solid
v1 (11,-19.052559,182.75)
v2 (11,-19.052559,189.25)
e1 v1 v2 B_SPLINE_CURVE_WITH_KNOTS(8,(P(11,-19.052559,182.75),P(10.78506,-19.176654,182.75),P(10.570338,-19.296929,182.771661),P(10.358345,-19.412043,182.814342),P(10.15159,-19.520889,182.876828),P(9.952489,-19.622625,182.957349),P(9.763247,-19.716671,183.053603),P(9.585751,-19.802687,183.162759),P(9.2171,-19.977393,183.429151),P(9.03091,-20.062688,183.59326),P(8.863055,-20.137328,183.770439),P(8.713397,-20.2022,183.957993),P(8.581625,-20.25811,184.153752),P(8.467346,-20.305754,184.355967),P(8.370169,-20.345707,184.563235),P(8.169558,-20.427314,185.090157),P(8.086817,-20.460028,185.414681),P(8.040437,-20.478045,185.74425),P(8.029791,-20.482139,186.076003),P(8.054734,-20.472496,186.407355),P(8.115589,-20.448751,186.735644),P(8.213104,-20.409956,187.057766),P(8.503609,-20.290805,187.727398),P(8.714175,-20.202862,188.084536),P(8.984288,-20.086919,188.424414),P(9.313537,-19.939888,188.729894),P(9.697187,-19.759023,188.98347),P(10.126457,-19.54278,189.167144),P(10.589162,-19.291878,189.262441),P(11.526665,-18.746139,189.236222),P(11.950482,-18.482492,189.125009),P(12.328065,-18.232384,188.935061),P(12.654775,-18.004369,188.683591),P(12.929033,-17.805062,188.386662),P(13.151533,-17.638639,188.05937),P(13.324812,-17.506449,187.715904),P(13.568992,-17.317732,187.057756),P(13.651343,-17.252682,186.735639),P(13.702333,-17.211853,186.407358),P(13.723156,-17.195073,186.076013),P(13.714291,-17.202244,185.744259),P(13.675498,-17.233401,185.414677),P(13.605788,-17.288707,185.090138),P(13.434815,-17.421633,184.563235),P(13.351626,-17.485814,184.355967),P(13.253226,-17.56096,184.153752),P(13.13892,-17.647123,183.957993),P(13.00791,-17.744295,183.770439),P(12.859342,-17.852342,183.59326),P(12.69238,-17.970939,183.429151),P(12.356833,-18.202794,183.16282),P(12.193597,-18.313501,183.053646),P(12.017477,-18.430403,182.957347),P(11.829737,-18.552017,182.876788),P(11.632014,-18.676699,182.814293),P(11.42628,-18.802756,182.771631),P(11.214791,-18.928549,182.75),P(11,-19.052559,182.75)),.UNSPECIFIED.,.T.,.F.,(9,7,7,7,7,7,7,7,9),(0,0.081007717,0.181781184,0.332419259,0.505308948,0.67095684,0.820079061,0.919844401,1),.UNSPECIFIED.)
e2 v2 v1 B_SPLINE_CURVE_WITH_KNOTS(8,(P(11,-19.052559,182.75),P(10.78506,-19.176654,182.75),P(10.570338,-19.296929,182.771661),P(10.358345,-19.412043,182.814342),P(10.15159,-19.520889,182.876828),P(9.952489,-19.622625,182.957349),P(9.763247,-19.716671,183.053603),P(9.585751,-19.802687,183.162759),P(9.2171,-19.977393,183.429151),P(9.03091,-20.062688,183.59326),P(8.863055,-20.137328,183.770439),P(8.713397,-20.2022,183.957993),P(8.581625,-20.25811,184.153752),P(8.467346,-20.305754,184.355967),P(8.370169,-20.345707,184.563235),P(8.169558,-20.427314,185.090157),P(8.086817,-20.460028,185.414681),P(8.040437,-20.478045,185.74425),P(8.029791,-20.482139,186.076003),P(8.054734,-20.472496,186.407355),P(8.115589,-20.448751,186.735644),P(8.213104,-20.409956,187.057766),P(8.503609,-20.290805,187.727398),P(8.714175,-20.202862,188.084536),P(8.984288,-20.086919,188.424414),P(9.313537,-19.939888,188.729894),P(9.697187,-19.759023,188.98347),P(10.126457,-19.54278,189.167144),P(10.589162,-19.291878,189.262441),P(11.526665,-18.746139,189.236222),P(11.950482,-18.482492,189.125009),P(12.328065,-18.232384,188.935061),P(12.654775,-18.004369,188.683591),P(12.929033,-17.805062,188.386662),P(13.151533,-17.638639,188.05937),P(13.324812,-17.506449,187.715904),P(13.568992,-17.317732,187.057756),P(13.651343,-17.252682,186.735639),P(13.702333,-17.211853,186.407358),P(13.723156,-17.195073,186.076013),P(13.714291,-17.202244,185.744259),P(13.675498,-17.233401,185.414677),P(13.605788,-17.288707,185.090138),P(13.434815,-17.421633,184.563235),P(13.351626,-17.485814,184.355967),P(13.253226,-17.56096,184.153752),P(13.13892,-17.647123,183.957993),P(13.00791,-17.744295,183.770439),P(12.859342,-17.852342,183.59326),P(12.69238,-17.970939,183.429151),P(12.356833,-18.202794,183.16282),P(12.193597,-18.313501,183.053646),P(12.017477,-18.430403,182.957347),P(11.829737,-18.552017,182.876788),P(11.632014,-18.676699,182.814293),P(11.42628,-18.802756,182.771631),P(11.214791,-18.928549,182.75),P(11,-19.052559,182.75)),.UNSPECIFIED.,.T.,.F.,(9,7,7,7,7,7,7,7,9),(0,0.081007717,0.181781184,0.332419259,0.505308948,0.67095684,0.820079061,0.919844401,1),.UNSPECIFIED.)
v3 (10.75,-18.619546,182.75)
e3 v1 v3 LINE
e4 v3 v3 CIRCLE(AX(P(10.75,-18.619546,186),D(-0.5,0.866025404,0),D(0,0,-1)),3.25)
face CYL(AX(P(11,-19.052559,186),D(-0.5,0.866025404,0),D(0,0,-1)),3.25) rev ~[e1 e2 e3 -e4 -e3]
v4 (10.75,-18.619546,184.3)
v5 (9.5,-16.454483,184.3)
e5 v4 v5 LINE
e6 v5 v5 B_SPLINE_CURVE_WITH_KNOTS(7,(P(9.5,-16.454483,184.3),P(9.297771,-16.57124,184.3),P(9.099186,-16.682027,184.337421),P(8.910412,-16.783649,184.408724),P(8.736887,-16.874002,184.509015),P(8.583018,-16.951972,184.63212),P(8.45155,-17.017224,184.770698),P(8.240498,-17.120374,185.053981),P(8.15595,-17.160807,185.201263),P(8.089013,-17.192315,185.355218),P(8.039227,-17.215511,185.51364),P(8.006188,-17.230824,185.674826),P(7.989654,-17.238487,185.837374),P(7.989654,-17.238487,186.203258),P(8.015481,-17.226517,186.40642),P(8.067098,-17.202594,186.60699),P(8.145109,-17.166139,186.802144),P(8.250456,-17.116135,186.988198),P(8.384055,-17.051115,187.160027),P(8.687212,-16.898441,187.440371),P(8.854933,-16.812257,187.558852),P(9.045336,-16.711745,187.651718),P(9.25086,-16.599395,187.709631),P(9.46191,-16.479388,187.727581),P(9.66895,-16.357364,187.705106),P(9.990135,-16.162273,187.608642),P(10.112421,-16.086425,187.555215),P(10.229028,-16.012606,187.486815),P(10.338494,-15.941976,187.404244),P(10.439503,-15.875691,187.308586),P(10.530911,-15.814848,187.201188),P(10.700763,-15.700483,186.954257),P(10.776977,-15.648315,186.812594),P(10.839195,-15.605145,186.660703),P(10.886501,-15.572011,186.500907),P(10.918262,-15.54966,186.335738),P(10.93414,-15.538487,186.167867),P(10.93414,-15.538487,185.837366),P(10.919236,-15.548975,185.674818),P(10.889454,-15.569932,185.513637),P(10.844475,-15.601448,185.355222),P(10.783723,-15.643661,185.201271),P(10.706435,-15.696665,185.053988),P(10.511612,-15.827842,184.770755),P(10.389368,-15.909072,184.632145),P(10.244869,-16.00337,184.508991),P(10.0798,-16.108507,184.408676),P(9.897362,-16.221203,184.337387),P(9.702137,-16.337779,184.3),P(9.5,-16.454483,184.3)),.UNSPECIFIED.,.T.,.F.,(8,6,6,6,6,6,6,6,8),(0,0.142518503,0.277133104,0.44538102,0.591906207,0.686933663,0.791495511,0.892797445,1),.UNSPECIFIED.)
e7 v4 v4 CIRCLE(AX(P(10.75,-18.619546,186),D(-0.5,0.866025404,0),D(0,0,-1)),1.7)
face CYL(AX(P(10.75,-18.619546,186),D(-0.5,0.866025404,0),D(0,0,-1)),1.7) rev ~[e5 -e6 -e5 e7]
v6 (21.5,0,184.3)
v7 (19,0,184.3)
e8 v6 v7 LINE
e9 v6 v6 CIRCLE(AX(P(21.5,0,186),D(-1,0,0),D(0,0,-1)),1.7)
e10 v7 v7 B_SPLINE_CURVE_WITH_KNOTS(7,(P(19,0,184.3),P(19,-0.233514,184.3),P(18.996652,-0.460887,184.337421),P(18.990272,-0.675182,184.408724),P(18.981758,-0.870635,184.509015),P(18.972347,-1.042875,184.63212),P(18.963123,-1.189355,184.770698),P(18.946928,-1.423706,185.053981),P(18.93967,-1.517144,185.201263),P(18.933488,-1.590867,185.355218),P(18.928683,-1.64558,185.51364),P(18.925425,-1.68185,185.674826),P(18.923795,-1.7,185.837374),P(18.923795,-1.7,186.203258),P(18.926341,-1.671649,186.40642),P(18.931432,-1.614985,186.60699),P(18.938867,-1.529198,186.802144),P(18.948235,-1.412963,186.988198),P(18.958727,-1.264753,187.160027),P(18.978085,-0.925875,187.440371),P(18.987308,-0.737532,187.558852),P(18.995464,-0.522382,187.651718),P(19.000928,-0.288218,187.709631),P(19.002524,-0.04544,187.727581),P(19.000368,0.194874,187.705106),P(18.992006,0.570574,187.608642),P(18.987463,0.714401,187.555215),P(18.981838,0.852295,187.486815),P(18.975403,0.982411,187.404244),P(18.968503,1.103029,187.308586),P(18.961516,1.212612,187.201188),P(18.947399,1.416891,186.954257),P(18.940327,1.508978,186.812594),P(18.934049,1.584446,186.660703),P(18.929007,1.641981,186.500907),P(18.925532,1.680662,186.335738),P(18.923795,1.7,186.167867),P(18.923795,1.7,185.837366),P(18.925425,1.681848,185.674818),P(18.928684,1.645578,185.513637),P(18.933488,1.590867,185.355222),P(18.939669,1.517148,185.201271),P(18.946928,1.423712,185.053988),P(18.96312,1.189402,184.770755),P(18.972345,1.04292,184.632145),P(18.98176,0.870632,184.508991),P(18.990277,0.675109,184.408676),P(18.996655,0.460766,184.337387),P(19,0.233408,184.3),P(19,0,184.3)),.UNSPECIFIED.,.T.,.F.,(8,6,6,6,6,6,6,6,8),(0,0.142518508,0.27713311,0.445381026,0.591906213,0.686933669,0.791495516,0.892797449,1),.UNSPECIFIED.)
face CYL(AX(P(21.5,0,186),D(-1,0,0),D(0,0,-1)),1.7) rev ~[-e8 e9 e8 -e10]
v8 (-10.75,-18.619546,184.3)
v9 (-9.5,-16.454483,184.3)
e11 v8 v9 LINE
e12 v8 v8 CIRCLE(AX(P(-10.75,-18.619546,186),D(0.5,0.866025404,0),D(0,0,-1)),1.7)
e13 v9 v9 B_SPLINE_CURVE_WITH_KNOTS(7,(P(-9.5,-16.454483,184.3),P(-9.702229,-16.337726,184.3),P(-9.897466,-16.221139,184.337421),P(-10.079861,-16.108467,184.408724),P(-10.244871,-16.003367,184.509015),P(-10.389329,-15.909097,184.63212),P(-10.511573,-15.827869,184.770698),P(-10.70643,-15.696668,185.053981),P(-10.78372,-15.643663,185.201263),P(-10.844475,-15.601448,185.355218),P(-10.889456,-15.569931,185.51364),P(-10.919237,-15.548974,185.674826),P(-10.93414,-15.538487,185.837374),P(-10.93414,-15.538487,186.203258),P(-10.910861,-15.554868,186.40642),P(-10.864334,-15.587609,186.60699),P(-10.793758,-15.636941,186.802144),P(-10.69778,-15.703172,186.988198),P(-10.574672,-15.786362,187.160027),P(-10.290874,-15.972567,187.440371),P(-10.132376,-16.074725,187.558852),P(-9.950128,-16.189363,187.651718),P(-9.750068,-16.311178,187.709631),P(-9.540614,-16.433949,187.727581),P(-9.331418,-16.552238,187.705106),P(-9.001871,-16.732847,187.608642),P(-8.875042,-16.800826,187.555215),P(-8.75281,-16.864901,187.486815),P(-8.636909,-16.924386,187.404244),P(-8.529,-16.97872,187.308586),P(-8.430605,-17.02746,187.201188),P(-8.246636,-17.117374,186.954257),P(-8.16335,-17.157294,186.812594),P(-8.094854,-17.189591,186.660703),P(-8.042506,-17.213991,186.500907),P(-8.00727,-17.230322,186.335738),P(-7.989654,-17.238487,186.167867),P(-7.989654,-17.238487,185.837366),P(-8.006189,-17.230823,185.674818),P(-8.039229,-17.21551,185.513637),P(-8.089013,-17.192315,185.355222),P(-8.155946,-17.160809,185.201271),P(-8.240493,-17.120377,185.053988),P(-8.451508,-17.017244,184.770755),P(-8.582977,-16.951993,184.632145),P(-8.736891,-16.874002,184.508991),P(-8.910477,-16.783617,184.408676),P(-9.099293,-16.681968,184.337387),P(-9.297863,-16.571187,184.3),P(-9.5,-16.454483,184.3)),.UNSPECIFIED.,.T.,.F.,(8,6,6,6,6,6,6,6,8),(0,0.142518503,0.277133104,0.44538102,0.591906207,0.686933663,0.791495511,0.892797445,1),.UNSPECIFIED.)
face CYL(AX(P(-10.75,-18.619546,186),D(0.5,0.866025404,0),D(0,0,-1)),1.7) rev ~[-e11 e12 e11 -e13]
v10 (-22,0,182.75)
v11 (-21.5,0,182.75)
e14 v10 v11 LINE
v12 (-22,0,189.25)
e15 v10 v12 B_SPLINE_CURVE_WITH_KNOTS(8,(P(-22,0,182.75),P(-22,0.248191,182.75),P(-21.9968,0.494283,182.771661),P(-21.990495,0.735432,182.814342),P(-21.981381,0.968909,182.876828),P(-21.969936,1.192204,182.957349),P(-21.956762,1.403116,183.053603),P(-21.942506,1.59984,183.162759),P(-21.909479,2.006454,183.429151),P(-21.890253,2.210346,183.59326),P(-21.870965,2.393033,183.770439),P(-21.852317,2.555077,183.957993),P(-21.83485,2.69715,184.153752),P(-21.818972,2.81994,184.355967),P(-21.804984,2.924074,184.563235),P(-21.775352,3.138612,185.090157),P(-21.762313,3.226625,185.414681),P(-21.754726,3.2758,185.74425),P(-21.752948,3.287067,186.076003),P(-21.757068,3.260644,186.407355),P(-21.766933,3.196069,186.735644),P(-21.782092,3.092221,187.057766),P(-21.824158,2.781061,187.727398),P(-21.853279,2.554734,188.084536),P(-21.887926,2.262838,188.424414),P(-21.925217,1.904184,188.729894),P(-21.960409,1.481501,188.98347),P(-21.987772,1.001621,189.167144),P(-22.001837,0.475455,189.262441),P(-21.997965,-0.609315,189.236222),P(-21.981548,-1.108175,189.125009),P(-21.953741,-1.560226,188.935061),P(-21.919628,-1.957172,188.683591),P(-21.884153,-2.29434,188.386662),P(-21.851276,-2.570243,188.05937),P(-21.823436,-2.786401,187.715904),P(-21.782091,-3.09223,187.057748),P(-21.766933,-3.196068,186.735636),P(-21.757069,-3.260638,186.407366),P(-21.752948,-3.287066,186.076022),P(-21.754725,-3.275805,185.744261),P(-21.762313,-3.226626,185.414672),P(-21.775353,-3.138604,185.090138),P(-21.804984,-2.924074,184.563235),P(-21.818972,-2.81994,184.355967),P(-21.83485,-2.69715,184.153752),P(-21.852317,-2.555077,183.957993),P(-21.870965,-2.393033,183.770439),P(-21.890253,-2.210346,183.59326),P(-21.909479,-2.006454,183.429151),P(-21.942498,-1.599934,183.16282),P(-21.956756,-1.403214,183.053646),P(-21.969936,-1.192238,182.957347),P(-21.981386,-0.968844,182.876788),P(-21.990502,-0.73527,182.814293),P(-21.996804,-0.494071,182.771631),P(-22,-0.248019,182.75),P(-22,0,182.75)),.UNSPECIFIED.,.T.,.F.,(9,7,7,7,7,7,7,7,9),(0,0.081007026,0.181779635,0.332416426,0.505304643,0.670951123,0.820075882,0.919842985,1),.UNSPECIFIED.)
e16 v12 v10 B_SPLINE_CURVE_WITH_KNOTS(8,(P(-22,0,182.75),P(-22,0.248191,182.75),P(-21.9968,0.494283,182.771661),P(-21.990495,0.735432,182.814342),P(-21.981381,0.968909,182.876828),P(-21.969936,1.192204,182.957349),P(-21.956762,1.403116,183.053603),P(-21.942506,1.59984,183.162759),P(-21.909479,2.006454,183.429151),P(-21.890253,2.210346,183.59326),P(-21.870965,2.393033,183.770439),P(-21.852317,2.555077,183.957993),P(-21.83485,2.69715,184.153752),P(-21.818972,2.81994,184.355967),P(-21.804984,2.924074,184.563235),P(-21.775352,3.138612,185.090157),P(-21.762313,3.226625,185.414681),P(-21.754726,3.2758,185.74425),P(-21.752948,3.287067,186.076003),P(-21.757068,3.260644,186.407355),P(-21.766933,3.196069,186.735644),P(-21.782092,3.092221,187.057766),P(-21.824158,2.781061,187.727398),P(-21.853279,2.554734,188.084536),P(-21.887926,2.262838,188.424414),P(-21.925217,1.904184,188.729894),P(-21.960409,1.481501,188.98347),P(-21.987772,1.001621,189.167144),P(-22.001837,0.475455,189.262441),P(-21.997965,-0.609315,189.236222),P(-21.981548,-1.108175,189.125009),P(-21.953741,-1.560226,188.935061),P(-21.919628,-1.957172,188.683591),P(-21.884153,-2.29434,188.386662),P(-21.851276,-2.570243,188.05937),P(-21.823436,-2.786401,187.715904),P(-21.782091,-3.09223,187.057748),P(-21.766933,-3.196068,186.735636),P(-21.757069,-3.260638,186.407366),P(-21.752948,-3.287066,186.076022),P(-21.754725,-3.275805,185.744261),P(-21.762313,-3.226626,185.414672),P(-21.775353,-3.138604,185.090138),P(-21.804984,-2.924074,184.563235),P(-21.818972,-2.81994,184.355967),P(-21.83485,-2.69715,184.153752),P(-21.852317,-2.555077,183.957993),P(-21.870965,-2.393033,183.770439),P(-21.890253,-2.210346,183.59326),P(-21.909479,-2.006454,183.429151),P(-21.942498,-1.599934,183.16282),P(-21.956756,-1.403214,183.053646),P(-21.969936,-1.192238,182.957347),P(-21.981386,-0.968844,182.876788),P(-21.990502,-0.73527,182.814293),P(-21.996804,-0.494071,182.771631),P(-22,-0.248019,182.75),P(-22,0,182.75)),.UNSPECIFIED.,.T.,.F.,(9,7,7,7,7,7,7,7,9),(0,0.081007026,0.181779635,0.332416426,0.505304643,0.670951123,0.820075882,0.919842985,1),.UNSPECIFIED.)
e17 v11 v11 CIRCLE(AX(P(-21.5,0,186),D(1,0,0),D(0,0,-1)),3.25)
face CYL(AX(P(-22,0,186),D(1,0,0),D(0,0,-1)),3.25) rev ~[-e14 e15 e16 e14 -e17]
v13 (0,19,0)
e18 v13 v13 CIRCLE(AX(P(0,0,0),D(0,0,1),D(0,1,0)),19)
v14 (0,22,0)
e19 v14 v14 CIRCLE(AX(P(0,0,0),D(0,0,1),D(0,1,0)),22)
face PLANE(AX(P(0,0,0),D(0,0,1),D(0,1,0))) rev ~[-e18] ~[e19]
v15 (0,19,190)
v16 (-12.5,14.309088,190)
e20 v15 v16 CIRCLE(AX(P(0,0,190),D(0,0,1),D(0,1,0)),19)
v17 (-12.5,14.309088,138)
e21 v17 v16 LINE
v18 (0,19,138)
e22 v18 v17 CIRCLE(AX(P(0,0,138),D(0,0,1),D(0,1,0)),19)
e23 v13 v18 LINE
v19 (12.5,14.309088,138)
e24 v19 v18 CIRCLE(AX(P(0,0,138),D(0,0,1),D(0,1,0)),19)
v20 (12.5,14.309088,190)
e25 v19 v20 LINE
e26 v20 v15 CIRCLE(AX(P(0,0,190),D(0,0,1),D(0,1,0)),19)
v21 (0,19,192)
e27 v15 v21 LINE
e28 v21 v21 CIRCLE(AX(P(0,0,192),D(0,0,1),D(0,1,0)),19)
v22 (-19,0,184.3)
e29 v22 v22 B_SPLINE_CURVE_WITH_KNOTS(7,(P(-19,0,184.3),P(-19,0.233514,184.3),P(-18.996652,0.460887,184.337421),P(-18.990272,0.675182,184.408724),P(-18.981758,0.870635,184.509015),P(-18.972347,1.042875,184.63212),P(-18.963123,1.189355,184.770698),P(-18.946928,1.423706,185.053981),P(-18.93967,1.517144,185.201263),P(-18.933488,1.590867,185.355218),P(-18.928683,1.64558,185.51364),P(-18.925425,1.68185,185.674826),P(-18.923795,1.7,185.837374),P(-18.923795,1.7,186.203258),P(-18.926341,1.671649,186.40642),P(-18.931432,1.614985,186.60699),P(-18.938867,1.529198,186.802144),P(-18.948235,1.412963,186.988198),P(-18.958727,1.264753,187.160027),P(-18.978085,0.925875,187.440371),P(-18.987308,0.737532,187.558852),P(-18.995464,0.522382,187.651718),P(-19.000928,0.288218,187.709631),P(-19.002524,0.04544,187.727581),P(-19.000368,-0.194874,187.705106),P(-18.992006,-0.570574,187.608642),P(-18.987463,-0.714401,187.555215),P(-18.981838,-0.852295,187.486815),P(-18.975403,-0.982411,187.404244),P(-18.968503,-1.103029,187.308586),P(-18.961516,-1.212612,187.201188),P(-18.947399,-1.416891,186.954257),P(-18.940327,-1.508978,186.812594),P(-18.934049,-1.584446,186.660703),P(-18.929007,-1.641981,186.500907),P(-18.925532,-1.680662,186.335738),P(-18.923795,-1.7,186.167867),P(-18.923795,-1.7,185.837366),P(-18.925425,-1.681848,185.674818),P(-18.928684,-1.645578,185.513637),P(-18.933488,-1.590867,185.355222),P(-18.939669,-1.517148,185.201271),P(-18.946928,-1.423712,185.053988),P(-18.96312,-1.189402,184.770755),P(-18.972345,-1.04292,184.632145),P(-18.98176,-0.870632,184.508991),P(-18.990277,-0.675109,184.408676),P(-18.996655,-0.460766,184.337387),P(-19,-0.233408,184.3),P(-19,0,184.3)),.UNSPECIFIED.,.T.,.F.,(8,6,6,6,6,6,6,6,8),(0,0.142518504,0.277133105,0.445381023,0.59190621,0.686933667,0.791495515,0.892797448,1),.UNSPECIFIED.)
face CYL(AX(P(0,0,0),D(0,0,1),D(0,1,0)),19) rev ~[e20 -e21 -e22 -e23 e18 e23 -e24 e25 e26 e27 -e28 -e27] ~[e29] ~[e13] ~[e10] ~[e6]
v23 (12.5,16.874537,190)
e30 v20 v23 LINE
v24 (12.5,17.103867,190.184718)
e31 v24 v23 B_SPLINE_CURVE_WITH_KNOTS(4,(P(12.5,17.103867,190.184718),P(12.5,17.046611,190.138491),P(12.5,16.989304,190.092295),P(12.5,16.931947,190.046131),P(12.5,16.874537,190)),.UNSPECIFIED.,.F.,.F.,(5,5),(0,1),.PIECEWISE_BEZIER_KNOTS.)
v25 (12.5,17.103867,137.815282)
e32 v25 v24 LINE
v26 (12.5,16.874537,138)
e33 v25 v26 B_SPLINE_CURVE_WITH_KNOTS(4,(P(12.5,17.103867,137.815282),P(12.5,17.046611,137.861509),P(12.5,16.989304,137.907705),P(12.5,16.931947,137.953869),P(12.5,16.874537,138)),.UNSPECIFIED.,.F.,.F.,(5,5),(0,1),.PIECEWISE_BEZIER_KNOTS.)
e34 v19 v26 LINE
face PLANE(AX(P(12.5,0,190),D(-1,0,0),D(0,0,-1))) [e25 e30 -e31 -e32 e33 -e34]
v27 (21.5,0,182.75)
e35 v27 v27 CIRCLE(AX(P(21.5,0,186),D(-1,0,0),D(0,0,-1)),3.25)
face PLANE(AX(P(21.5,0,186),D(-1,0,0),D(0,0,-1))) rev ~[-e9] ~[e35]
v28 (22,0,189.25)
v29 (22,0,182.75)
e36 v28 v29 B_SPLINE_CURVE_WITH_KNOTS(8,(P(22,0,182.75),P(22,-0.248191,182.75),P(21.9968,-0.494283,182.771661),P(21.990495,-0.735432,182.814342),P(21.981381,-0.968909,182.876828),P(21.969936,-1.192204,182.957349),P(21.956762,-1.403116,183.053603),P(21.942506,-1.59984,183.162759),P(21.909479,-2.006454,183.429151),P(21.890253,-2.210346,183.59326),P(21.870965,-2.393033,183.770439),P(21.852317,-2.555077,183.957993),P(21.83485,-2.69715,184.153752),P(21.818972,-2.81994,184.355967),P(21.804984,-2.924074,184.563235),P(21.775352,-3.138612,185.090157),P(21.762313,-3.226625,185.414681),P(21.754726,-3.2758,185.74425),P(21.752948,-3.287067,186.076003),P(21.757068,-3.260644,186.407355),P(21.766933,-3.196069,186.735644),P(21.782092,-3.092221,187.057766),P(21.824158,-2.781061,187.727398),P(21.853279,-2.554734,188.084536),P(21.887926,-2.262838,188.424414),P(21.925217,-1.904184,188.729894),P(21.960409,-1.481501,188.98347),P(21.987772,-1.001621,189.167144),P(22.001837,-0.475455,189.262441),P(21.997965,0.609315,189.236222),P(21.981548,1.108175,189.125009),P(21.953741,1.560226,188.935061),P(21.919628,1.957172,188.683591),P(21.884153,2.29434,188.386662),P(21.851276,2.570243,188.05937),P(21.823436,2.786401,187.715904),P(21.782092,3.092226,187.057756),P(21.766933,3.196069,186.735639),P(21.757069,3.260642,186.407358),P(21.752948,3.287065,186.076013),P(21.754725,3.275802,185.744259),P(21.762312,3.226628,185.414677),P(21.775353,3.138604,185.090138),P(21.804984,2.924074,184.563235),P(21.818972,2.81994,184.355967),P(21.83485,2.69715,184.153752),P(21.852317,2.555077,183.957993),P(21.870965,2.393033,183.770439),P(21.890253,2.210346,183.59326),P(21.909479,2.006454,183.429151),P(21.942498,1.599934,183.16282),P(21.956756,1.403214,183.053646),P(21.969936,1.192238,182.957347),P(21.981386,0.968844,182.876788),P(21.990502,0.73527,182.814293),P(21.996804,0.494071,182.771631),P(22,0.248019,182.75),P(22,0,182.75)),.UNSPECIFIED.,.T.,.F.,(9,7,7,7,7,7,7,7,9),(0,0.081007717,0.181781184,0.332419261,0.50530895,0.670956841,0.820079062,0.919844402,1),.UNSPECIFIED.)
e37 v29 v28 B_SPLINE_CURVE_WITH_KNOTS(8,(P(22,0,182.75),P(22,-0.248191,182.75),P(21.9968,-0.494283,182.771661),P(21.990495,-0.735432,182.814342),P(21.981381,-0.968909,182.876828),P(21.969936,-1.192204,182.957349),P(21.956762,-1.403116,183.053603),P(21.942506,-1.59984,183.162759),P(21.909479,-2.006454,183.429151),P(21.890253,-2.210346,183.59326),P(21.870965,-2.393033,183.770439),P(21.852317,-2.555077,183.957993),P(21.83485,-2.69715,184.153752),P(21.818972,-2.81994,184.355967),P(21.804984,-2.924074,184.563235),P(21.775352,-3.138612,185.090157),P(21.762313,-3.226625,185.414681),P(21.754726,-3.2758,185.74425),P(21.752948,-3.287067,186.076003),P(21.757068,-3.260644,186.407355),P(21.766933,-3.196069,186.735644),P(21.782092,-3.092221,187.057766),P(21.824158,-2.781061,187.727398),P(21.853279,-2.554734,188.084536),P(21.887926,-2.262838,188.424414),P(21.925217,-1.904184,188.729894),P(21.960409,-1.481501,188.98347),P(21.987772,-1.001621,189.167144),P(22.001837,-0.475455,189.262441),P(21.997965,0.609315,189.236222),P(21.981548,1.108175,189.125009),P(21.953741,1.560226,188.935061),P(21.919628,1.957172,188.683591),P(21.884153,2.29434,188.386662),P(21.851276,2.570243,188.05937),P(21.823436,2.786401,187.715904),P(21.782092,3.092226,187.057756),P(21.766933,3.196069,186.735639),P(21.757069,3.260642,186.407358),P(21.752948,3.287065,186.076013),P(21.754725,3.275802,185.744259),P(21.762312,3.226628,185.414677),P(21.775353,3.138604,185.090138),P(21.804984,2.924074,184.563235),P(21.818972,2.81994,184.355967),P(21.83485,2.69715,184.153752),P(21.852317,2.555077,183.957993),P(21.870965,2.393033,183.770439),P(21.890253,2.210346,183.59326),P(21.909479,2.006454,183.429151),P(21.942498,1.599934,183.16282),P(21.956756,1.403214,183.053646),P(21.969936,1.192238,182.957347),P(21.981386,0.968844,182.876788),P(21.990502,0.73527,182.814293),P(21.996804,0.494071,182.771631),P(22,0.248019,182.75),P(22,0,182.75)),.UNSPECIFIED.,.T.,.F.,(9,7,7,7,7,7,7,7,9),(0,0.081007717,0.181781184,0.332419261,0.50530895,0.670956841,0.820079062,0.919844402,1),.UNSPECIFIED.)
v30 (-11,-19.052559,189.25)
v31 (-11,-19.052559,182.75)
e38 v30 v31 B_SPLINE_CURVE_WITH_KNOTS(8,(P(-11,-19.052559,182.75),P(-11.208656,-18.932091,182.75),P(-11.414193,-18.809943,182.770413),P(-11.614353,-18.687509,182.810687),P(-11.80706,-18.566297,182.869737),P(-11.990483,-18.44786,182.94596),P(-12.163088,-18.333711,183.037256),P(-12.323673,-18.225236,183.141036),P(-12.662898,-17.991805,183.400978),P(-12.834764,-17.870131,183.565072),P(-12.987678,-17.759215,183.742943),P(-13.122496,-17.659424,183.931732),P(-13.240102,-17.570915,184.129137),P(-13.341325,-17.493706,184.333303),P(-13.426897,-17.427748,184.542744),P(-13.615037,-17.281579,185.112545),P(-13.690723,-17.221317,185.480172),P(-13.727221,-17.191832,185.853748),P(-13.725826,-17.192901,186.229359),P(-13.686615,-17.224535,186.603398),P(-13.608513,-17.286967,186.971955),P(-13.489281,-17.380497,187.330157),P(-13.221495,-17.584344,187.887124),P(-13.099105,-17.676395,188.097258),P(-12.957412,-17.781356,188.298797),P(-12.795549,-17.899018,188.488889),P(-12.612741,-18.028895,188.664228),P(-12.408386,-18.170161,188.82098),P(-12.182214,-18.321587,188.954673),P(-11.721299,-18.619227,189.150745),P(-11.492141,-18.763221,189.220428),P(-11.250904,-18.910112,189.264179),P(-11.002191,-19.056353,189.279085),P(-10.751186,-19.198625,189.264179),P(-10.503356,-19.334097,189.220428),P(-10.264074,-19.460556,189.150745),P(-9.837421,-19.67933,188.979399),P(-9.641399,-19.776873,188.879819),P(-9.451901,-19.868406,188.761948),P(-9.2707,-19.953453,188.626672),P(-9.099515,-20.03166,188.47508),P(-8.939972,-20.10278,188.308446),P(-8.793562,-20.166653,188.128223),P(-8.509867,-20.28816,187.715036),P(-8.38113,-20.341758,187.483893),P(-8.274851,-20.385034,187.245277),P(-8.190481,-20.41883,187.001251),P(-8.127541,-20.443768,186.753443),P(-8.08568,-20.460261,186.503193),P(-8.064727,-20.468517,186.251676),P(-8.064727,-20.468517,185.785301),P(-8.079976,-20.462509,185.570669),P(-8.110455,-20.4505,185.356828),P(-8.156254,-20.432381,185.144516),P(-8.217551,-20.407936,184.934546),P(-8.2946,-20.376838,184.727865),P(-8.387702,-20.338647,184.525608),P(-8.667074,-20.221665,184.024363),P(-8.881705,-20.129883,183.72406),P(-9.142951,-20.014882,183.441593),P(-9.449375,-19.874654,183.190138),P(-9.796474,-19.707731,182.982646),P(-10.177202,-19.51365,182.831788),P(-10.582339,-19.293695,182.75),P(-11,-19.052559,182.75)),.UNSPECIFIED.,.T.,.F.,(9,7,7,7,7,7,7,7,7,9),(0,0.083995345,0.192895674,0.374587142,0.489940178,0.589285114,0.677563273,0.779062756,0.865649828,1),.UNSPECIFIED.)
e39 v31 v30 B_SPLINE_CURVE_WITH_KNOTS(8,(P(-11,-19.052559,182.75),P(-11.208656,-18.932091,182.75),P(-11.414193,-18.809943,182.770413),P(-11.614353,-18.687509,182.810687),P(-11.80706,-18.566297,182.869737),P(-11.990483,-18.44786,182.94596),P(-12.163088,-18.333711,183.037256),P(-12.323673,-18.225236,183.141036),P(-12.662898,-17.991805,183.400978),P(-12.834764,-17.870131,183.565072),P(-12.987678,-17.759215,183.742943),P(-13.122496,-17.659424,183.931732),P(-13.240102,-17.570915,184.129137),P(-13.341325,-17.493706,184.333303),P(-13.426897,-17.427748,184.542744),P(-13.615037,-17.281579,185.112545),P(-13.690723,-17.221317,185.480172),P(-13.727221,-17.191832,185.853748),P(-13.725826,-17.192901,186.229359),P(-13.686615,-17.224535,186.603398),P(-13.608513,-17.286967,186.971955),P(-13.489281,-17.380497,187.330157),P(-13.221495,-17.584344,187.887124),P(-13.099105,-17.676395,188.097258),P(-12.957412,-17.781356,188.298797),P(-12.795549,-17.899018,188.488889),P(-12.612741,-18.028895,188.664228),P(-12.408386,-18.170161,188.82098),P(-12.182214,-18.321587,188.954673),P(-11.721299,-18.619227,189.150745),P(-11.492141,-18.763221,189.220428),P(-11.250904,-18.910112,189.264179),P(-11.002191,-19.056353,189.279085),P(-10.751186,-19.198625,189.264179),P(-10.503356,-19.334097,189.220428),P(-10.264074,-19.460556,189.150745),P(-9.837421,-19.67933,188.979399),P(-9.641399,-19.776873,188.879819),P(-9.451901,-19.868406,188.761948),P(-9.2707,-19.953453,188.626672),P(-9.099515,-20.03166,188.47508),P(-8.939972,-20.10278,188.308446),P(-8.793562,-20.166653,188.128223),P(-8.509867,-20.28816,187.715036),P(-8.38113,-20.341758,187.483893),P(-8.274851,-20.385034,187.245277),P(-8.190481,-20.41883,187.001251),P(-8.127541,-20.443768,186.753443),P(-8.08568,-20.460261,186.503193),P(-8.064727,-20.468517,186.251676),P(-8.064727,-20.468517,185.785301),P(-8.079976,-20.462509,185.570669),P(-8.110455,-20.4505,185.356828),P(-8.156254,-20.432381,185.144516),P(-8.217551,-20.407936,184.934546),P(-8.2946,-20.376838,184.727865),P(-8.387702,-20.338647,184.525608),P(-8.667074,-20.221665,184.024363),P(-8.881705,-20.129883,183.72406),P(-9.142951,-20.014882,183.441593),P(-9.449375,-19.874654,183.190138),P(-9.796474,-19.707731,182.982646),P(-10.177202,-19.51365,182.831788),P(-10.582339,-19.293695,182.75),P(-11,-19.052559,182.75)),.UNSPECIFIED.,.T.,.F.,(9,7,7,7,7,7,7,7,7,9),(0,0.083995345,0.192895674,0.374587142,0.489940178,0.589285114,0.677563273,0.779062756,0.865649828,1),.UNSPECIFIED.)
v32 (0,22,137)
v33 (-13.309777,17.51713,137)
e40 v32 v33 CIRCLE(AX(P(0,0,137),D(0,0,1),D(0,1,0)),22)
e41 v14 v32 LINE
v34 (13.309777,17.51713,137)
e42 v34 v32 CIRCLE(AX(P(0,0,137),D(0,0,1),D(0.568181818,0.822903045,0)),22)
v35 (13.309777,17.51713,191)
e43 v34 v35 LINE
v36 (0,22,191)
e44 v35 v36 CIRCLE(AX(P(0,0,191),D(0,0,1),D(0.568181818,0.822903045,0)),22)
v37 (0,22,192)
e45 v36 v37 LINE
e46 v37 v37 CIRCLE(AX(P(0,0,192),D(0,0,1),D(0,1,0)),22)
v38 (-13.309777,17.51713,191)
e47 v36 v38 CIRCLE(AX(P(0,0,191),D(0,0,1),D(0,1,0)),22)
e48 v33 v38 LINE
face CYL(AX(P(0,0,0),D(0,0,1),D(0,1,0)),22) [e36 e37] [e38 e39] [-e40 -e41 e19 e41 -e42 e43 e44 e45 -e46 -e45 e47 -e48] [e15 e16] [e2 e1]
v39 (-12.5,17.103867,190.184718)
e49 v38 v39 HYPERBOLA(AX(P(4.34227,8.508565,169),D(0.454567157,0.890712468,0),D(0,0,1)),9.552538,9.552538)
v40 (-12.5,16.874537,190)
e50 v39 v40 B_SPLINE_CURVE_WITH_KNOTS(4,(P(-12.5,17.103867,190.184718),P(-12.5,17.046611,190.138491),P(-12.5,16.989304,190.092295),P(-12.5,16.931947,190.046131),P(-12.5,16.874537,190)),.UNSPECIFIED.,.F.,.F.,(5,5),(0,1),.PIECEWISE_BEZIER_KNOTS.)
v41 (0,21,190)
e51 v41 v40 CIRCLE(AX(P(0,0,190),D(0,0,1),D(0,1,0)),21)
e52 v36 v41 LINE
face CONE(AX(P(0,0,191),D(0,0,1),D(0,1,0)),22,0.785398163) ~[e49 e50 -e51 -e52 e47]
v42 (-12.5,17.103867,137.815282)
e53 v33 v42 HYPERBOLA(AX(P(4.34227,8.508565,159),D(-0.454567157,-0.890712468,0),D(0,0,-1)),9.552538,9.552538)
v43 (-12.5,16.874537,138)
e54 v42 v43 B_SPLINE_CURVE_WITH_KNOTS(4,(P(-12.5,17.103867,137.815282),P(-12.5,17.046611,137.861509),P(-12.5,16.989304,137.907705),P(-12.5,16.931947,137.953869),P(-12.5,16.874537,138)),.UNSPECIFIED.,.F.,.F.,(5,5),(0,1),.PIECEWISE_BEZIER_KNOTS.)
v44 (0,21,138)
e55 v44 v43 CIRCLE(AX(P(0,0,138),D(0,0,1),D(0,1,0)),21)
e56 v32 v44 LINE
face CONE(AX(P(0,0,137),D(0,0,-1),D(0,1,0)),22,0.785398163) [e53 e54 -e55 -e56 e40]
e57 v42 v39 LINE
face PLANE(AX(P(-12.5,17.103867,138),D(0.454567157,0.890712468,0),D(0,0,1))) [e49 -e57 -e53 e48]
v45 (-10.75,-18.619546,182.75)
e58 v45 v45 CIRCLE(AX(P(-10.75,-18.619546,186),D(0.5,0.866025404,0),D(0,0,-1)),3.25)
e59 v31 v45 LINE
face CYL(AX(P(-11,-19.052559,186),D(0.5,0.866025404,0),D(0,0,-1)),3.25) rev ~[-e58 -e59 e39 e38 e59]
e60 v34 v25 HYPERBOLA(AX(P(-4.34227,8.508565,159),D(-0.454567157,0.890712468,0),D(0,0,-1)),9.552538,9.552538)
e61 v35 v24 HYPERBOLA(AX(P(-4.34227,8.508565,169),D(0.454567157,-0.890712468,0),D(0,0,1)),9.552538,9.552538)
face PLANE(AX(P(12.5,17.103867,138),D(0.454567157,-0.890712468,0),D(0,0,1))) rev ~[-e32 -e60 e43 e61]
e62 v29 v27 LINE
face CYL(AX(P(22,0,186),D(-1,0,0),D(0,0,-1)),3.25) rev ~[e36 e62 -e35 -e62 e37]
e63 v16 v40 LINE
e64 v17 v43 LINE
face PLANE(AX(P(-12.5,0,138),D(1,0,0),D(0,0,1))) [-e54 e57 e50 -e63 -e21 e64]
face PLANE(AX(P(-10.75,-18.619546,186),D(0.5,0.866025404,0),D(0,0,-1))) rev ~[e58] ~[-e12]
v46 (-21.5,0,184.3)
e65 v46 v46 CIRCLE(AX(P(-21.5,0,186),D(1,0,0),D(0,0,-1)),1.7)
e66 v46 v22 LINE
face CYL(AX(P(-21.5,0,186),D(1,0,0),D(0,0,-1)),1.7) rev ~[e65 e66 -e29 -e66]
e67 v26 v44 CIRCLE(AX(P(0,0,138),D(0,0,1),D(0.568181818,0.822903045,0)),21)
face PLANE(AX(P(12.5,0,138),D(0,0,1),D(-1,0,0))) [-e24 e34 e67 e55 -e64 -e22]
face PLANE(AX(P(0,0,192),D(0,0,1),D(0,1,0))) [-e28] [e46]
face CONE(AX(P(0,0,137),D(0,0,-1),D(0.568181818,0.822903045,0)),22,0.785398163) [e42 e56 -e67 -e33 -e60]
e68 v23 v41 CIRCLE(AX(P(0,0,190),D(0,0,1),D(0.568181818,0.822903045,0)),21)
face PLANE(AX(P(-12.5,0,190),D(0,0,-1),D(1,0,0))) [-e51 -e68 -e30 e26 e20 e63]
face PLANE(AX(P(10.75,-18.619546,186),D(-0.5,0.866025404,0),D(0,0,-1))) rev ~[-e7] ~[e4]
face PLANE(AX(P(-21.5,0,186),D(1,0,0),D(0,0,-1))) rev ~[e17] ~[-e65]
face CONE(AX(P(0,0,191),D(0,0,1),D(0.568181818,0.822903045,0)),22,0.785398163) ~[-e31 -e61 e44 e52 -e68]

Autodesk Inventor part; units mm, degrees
ref_plane "XY Plane" through (0, 0, 0) normal (0, 0, 1) x (1, 0, 0)
sketch "Esquisse1" plane through (0, 0, 0) normal (1, 0, 0) x (0, 1, 0)
  line L0 (0, 0) -> (0, 594.5025)
  line L1 (22, 0) -> (22, 192)
  line L2 (19, 0) -> (19, 192)
  line L3 (22, 192) -> (19, 192)
  line L4 (22, 0) -> (19, 0)
  dimension "d0" = 38
  dimension "d3" = 3
  dimension "d58" = 192
revolve "Révolution1" add sketch "Esquisse1" angle 360 about axis through (0, 0, 0) along (0, 0, 1)
sketch "Esquisse3" plane through (0, 0, 0) normal (0, 1, 0) x (-1, 0, 0)
  line L0 (-19, 192) -> (19, 192) projected
  line L1 (12.5, 190) -> (-12.5, 190)
  line L2 (-12.5, 190) -> (-12.5, 138)
  line L3 (-12.5, 138) -> (12.5, 138)
  line L4 (12.5, 138) -> (12.5, 190)
  point P0 (0, 0)
  point P1 (0, 190)
  point P2 (0, 192)
  dimension "d108" = 52
  dimension "d109" = 2
  dimension "d110" = 25
extrude "Extrusion2" cut sketch "Esquisse3" along normal up to surface
ref_plane "Plan de construction2" through (22, 0, 96) normal (1, 0, 0) x (0, 1, 0)
sketch "Esquisse4" plane through (22, 0, 96) normal (1, 0, 0) x (0, 1, 0)
  line L0 (-22, 96) -> (22, 96) projected
  point P0 (0, -96)
  point P1 (0, 90)
  dimension "d24" = 6
hole "Perçage1" at (22, 0, 186) direction (-1, 0, 0) diameter 3.4 depth 8 counterbore diameter 6.5 counterbore depth 0.5 clearance for "Vis d'assemblage à six pans creux ISO 4762" size "M3" standard "ISO"
pattern_circular "Réseau circulaire2" count 4 over 180 about axis through (0, 0, -10) along (0, 0, -1) of "Perçage1"
chamfer "Chanfrein2" distance 1 angle 45 6 edges at (-12.5, 18.1039, 164) (-6.5466, 21.0034, 138) (6.5466, 21.0034, 138) (12.5, 18.1039, 164) (-6.5466, 21.0034, 190) (6.5466, 21.0034, 190)
ref_plane "Plan de construction3" through (0, -22, 96) normal (0, 1, 0) x (-1, 0, 0)
thread "Filetage3" size "M38x1.5" class "6H" standard "ISO Metric profile" length 10
properties part number "reservoir_guide"
